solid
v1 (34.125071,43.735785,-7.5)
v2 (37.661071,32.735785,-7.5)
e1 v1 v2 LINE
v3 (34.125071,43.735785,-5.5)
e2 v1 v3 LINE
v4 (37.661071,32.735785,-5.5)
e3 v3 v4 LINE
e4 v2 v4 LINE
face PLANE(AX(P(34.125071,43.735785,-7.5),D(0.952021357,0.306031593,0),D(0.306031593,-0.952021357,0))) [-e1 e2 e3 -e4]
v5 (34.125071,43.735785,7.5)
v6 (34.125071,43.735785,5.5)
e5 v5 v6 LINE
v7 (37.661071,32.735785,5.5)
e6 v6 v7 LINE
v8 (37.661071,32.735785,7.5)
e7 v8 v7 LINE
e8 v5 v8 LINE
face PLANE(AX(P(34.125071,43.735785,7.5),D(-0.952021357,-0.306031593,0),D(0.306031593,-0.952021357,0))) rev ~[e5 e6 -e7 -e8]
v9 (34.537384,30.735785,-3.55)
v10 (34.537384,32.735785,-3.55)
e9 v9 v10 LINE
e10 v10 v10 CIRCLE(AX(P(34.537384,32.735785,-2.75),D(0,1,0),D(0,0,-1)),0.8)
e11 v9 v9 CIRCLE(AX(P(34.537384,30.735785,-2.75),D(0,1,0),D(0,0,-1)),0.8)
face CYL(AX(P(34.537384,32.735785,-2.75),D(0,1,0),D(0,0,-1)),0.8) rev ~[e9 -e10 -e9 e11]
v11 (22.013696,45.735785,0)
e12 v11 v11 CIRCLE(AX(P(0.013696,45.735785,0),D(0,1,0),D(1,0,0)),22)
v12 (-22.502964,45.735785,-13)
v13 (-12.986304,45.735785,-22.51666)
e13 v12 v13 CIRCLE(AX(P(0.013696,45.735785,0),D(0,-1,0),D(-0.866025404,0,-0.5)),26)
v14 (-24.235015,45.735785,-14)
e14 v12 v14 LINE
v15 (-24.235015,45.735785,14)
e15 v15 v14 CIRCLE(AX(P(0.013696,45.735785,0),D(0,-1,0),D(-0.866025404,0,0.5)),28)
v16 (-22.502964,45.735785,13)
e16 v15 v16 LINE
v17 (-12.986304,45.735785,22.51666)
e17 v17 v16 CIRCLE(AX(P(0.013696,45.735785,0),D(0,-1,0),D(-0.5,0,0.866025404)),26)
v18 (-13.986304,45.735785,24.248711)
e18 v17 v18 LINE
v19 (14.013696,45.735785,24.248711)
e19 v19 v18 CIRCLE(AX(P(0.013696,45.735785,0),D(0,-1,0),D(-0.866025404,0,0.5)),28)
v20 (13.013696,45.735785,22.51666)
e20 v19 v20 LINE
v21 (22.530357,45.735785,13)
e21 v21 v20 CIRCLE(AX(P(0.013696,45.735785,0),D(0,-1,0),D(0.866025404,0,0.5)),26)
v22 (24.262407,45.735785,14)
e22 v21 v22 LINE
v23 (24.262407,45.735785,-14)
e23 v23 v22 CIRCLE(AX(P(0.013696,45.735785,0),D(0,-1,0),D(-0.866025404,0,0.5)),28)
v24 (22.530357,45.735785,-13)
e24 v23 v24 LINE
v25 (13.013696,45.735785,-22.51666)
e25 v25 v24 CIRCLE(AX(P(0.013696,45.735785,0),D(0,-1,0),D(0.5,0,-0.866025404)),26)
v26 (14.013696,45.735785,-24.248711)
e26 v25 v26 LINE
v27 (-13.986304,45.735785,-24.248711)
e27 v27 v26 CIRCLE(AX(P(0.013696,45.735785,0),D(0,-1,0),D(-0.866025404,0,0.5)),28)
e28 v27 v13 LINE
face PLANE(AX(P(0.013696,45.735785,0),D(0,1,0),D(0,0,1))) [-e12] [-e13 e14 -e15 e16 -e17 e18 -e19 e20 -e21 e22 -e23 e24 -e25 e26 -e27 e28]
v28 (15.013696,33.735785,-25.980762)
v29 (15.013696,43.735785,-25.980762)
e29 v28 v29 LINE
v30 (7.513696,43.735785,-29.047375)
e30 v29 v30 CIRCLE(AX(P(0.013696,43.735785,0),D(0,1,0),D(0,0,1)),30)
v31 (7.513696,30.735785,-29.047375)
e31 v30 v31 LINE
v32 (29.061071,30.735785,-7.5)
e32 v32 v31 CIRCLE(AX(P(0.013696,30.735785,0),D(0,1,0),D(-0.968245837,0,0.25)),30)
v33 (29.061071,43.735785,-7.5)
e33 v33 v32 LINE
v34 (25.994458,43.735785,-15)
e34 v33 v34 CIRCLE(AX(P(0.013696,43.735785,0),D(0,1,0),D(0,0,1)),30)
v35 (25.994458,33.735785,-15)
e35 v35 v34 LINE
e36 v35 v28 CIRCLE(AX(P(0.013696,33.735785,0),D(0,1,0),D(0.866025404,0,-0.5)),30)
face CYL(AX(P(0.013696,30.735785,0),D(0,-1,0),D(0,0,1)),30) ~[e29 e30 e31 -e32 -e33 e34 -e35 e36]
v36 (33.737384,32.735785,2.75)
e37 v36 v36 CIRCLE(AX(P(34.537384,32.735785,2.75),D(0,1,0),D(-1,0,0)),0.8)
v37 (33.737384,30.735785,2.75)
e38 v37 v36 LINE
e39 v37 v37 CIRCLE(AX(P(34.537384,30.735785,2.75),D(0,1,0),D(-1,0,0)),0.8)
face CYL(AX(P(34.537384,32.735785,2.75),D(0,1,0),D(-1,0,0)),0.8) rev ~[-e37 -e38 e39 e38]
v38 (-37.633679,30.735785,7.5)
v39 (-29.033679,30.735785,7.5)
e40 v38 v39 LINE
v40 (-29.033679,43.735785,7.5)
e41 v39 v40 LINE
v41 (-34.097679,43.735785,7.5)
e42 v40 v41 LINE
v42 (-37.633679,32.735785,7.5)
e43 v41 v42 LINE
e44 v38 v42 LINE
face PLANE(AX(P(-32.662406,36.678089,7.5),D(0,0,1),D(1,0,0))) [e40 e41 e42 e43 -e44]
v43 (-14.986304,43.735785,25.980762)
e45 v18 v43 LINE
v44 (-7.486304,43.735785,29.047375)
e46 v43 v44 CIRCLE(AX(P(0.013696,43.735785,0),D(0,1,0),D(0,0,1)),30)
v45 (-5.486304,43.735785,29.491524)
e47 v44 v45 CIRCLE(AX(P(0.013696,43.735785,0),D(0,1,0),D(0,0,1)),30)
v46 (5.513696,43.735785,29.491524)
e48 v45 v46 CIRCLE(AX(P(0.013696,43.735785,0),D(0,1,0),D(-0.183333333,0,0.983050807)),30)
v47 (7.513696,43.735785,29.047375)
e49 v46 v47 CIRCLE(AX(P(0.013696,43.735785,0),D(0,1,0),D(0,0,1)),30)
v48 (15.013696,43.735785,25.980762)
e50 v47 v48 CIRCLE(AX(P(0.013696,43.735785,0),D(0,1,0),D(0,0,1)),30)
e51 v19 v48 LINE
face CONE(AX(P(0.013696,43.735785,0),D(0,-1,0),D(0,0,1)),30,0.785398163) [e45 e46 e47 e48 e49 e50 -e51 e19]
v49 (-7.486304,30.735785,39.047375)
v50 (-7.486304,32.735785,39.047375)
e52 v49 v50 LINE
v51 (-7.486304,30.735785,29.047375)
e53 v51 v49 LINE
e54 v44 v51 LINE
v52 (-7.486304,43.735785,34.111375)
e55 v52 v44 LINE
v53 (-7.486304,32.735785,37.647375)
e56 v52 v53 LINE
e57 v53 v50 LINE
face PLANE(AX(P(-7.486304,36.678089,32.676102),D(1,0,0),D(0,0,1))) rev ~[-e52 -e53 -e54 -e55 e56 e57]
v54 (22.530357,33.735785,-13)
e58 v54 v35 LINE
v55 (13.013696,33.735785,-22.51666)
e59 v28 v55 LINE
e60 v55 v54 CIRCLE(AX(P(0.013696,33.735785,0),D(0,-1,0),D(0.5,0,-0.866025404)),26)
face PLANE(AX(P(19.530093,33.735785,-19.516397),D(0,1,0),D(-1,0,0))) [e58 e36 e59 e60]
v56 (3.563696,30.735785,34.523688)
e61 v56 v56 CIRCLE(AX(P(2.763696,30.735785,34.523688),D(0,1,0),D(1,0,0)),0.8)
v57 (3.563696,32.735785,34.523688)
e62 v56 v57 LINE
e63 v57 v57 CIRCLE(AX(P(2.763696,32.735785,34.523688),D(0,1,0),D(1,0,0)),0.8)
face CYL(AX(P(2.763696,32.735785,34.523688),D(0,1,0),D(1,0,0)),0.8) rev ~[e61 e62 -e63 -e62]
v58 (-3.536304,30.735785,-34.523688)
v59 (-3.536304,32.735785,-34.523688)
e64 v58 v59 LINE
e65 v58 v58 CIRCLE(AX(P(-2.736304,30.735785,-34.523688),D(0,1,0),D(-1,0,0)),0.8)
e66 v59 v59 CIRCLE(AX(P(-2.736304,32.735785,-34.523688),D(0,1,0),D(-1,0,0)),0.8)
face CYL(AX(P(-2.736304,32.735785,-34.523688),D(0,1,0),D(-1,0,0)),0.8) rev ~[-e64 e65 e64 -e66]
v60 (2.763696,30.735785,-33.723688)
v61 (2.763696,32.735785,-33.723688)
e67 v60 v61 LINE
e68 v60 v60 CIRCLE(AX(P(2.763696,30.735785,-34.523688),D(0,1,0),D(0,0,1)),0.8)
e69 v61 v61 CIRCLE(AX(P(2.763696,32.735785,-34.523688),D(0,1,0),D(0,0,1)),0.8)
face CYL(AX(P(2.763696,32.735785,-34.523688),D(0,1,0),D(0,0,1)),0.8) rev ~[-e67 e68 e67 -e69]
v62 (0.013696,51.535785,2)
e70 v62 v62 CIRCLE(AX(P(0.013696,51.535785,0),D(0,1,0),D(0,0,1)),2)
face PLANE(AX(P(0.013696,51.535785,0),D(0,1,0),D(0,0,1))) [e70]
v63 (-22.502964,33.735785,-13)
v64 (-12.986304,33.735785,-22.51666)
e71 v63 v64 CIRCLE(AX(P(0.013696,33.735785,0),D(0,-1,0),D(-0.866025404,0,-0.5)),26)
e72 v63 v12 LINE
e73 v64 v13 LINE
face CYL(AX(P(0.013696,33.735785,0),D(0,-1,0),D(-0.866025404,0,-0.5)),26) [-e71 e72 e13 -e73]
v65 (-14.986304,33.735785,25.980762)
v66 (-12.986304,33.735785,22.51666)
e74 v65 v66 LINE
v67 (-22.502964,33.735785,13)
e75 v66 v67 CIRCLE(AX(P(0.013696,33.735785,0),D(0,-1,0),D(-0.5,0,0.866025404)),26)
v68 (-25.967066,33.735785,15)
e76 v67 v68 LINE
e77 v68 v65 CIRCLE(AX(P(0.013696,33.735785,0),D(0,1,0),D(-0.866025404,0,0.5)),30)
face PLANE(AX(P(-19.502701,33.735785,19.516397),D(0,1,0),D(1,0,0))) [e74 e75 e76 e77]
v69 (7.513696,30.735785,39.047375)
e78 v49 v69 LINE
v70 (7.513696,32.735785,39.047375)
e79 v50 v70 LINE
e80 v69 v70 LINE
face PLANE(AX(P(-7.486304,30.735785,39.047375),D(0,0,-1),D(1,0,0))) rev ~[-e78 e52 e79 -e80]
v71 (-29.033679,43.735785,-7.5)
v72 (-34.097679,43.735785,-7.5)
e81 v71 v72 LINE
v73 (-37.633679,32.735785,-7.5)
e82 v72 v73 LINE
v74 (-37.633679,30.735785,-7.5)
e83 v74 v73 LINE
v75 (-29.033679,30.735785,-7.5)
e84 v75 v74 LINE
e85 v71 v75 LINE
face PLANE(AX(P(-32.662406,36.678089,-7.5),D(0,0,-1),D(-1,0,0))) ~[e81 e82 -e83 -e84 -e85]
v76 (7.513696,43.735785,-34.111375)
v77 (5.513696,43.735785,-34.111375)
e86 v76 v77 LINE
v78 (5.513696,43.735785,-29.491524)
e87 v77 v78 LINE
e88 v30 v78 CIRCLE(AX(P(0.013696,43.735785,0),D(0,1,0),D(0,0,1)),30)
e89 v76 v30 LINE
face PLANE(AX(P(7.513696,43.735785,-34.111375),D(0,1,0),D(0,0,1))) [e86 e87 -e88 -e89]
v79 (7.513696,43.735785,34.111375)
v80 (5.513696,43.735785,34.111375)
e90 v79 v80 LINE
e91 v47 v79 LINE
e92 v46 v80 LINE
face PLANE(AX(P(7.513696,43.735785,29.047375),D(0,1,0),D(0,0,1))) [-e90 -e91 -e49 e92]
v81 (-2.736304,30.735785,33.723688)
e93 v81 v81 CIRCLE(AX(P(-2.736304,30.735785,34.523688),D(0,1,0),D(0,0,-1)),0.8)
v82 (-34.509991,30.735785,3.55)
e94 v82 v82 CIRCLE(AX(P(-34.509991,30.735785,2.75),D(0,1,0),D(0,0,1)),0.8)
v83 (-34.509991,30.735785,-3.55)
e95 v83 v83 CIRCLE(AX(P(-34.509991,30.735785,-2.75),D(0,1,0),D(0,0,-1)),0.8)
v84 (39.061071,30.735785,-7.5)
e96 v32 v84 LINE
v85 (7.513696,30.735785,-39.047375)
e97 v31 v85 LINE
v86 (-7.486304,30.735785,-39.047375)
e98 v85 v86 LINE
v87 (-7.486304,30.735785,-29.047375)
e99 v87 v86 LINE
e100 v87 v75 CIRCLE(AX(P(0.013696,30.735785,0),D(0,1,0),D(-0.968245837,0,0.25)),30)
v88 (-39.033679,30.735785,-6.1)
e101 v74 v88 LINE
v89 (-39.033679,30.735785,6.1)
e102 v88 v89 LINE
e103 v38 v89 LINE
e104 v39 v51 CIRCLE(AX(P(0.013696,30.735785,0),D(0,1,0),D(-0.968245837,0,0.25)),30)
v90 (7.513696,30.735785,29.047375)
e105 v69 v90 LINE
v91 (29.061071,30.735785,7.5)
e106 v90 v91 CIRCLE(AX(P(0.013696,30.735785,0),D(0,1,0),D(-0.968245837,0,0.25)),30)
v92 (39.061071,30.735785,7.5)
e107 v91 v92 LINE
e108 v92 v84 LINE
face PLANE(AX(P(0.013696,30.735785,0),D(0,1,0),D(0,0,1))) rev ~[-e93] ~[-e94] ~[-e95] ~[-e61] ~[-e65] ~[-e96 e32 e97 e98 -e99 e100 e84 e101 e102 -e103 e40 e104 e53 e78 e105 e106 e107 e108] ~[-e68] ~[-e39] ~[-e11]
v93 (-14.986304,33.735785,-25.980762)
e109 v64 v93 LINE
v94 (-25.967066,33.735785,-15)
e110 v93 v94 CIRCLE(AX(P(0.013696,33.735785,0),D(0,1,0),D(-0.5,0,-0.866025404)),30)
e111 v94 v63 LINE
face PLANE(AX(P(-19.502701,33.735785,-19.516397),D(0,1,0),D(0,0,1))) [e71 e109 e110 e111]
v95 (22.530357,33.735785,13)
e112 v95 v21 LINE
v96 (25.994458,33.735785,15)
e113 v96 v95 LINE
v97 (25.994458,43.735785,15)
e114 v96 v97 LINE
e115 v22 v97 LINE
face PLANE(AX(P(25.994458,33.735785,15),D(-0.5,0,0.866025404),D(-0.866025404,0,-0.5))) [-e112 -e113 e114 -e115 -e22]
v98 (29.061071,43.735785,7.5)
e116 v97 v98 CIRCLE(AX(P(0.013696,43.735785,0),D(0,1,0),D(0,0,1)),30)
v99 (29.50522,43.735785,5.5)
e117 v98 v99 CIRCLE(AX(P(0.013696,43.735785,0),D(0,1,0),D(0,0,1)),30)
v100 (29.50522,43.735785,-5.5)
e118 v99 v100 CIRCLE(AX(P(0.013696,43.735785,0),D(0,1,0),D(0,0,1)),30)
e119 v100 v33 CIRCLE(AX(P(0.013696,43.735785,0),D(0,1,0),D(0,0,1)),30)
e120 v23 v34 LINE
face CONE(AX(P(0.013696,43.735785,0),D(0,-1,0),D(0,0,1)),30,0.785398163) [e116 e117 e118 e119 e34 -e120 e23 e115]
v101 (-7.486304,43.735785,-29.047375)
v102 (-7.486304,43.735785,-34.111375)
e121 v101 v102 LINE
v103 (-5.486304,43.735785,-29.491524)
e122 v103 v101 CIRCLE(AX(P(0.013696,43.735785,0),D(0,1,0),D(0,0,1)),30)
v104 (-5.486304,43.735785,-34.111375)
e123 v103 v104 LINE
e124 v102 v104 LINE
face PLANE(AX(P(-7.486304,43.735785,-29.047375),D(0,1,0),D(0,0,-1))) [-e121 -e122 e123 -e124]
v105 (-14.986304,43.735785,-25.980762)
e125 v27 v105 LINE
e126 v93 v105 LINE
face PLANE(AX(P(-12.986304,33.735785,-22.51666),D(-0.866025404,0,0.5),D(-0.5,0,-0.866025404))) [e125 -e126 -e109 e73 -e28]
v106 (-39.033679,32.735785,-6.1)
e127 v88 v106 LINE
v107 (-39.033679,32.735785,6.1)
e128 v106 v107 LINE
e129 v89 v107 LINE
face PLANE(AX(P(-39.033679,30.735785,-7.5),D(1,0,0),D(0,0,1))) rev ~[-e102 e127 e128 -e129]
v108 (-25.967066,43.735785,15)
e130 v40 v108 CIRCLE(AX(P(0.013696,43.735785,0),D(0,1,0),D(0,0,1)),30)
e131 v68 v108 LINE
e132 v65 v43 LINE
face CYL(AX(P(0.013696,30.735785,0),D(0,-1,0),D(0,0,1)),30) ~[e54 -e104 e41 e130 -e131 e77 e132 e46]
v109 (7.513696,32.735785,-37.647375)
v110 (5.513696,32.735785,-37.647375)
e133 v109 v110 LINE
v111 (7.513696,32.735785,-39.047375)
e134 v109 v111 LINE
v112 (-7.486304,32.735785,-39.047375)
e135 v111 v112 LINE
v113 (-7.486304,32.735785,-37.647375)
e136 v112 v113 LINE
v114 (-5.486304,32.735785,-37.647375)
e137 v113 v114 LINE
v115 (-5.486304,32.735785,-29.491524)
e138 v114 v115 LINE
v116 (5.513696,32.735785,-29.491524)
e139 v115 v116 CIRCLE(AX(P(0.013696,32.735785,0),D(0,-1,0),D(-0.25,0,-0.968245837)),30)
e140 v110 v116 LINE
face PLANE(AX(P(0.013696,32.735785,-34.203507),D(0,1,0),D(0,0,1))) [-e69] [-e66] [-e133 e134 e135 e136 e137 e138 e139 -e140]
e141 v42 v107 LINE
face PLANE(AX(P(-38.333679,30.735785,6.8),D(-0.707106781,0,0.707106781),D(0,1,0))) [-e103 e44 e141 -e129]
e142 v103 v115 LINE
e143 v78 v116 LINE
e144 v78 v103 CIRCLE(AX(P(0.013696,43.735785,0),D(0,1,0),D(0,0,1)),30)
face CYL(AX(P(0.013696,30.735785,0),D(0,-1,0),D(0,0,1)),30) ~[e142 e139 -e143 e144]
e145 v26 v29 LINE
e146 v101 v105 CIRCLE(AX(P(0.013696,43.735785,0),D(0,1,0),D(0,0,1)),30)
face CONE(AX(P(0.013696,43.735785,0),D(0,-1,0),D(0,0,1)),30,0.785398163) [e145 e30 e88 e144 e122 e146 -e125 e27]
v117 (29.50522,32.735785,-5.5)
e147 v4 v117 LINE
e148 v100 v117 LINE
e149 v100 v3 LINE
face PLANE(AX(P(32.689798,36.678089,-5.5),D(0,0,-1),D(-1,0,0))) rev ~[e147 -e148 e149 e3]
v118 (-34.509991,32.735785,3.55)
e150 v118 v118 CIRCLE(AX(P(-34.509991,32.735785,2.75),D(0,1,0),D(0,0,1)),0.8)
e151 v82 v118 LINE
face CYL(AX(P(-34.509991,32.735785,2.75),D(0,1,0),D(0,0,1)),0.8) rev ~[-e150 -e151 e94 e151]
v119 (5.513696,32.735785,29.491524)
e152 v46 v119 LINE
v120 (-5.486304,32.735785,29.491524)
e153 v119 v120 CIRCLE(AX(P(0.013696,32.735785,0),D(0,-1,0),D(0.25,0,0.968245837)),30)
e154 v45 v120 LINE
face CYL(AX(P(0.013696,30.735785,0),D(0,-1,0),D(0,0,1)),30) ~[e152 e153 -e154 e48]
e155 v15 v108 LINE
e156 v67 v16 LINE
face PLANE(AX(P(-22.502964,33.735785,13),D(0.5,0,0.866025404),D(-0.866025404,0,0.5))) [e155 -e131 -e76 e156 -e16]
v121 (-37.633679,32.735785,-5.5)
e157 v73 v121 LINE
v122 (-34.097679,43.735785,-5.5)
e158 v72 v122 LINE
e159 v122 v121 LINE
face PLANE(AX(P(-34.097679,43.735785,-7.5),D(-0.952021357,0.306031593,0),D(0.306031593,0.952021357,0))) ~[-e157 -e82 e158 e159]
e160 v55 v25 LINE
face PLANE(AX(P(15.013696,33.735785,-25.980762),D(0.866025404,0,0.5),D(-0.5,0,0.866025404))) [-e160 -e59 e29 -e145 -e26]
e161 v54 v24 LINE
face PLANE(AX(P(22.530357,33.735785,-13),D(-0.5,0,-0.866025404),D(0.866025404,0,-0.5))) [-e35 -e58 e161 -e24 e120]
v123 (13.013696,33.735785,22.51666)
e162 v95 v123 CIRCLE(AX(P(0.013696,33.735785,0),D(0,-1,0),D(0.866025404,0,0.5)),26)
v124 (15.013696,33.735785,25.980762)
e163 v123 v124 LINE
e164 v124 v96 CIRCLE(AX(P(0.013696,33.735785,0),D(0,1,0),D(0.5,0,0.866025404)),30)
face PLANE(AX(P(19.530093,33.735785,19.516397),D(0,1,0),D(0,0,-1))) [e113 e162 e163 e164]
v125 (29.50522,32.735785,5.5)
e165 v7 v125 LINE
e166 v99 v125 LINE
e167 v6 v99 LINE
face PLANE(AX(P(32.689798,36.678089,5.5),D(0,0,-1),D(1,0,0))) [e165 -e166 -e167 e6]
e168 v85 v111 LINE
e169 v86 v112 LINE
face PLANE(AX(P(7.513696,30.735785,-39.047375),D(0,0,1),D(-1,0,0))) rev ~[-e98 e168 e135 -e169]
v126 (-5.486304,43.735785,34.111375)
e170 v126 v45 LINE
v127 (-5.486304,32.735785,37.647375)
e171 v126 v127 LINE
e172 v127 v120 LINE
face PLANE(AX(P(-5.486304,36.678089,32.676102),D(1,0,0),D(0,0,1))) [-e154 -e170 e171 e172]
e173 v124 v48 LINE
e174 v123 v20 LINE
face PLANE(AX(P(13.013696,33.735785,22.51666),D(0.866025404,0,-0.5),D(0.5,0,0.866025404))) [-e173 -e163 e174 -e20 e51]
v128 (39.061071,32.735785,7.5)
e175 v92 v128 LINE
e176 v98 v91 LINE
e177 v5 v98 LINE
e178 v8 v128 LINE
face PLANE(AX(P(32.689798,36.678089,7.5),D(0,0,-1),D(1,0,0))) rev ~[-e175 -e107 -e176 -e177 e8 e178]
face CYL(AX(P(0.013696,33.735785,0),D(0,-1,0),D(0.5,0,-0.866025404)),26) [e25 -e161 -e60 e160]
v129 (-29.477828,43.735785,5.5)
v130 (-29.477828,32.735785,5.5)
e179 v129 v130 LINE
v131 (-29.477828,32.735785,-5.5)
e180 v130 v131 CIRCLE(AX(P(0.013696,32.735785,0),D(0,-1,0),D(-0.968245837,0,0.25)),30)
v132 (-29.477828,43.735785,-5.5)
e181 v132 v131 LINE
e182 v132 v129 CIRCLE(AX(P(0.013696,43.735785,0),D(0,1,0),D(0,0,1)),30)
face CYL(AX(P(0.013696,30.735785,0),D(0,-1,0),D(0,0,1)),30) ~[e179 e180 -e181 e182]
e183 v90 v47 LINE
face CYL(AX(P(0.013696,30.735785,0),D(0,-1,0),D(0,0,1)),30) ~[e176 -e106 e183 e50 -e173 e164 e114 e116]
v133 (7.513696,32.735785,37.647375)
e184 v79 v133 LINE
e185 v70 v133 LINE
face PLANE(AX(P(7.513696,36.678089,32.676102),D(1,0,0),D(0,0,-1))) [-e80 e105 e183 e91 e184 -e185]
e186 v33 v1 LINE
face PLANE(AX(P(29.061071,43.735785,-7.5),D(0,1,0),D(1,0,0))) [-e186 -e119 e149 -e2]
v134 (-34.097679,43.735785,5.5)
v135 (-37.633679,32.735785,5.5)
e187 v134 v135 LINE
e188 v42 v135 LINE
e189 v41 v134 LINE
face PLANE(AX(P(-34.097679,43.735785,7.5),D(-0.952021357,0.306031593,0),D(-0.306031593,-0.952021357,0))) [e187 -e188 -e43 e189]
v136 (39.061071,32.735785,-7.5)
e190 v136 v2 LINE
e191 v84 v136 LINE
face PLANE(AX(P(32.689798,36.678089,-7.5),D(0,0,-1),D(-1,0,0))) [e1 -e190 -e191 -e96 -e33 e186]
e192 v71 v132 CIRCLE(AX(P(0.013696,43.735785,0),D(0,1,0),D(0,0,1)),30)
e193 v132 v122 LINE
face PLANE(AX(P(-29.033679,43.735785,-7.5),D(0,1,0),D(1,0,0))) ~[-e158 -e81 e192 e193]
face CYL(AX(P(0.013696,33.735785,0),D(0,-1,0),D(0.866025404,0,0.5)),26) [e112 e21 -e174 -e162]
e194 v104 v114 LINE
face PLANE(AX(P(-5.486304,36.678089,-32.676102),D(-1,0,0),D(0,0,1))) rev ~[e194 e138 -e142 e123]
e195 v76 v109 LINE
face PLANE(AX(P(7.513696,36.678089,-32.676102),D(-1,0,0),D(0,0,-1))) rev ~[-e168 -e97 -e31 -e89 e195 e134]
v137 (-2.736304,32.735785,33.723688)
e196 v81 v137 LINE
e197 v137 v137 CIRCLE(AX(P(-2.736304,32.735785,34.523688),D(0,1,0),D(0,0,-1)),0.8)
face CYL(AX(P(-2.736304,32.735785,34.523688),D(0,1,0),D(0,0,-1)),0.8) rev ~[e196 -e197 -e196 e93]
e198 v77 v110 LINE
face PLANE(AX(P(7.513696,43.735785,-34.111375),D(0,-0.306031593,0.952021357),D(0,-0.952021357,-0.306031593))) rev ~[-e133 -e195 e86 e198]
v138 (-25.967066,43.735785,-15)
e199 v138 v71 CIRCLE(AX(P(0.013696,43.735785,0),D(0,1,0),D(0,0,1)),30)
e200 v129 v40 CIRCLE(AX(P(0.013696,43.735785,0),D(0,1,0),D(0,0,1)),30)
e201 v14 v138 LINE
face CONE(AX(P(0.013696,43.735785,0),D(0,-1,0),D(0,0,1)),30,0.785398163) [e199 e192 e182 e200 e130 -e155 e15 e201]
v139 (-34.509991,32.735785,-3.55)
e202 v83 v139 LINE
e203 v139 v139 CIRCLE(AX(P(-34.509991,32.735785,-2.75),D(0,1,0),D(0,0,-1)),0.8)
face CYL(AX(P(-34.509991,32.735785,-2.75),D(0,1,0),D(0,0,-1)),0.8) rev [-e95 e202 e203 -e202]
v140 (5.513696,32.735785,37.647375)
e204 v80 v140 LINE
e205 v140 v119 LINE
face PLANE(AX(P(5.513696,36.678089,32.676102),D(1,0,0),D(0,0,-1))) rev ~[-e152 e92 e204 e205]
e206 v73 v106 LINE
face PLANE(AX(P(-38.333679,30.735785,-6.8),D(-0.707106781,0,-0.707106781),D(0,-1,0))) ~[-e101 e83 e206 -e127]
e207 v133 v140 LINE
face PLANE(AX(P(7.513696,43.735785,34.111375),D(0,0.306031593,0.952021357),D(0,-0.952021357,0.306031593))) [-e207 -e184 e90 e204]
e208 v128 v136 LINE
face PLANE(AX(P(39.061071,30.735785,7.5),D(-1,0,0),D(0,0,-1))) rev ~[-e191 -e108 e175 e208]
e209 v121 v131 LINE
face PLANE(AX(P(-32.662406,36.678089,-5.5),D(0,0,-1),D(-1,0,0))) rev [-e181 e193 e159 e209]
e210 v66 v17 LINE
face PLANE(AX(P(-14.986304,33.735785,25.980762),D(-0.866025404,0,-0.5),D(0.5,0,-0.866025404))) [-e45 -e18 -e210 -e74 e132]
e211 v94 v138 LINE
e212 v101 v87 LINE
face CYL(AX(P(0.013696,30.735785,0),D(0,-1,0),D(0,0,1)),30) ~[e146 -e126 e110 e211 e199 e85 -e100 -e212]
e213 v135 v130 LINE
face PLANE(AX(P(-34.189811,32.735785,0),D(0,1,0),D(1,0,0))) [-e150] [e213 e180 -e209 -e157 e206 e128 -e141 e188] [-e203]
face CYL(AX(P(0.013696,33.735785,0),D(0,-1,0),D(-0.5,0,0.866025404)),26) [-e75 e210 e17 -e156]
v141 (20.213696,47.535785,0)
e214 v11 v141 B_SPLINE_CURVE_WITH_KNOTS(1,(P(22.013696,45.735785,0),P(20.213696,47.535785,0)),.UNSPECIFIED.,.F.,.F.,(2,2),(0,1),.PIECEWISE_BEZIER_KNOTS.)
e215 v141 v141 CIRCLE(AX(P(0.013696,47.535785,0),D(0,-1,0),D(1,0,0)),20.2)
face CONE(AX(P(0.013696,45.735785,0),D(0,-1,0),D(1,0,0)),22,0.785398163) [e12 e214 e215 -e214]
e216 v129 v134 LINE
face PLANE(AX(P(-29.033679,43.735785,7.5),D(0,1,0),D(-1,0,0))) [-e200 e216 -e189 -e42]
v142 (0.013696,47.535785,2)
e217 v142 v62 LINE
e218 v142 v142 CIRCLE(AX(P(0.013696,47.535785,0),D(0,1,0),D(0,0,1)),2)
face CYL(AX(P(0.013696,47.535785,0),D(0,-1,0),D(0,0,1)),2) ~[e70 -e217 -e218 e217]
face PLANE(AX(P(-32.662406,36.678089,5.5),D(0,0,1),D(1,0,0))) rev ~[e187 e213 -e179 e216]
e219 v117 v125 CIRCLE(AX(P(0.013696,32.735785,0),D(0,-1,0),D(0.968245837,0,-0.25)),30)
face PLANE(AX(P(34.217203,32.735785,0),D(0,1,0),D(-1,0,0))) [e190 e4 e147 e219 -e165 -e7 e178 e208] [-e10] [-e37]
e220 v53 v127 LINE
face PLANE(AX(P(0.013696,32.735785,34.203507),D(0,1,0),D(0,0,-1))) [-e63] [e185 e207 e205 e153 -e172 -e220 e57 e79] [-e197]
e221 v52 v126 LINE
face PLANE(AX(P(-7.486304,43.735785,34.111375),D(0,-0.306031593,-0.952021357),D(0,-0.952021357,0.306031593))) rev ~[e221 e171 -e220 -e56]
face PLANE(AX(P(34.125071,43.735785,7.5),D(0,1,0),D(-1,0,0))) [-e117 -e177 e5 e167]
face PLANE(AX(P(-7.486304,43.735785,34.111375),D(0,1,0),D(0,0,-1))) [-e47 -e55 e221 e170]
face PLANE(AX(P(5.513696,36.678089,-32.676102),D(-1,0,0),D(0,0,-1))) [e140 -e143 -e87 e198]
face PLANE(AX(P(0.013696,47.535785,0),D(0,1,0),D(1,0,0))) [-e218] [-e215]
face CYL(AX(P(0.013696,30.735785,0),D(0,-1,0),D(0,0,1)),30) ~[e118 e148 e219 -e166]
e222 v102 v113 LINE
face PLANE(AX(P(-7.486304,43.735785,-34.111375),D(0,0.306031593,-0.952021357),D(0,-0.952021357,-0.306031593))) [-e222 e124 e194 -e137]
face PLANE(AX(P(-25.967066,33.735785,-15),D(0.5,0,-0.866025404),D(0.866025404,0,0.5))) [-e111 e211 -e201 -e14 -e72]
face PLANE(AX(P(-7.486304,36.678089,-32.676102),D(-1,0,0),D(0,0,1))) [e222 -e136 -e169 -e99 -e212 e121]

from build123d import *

# Parameters (mm, degrees)
SKETCH1_R                   = 150
BOSS_EXTRUDE1_DEPTH         = 75
CHAMFER1_SIZE               = 10
BOSS_EXTRUDE2_START         = -75
BOSS_EXTRUDE2_DEPTH         = 10
CHAMFER2_SIZE               = 7
BOSS_EXTRUDE3_DEPTH         = 10
SKETCH4_R                   = 4
CUT_EXTRUDE1_DEPTH          = 255.641782801
CIRPATTERN1_COUNT           = 4
CIRPATTERN1_COPY_1_DEPTH    = 10
CIRPATTERN1_COPY_2_DEPTH    = 10
CIRPATTERN1_COPY_3_DEPTH    = 10
CIRPATTERN1_COPY_4_SKETCH_R = 4
CIRPATTERN1_COPY_4_DEPTH    = 255.641782801
CIRPATTERN1_COPY_5_SKETCH_R = 4
CIRPATTERN1_COPY_5_DEPTH    = 255.641782801
CIRPATTERN1_COPY_6_SKETCH_R = 4
CIRPATTERN1_COPY_6_DEPTH    = 255.641782801
CUT_EXTRUDE2_START          = -60
CUT_EXTRUDE2_DEPTH          = 347.111647957
CIRPATTERN2_COUNT           = 4
SKETCH6_R                   = 110
BOSS_EXTRUDE4_DEPTH         = 9
BOSS_EXTRUDE4_TAPER         = 45
SKETCH7_R                   = 10
BOSS_EXTRUDE5_DEPTH         = 20
L_EK1_SCALE                 = 0.2


with BuildPart() as part:
    # Sketch1 → Boss-Extrude1 (new body)
    with BuildSketch(Plane(origin=(0, 0, 0), x_dir=(1, 0, 0), z_dir=(0, 1, 0))):
        with Locations(Location((0, 0, 0), (0, 0, 270))):
            Circle(SKETCH1_R)
    extrude(amount=BOSS_EXTRUDE1_DEPTH)

    # Chamfer1
    chamfer1_edges = [part.edges().sort_by_distance(p)[0] for p in [
        (0, 75, -150),
    ]]
    chamfer(chamfer1_edges, length=CHAMFER1_SIZE)

    # Sketch2 → Boss-Extrude2 (add)
    with BuildSketch(Plane(origin=(0, 75, 0), x_dir=(1, 0, 0), z_dir=(0, 1, 0)).offset(BOSS_EXTRUDE2_START)):
        with BuildLine():
            Line((-195.236875483, 37.5), (-195.236875483, -37.5))
            Line((-195.236875483, -37.5), (-145.236875483, -37.5))
            ThreePointArc((-145.236875483, -37.5), (-150, 0), (-145.236875483, 37.5))
            Line((-145.236875483, 37.5), (-195.236875483, 37.5))
        make_face()
    boss_extrude2 = extrude(amount=BOSS_EXTRUDE2_DEPTH)

    # Chamfer2
    chamfer2_edges = [part.edges().sort_by_distance(p)[0] for p in [
        (-195.236875483, 5, 37.5),
        (-195.236875483, 5, -37.5),
    ]]
    chamfer(chamfer2_edges, length=CHAMFER2_SIZE)

    # Sketch3 → Boss-Extrude3 (add)
    with BuildSketch(Plane.XY.offset(37.5)):
        Polygon((-150, 65), (-170.556875483, 65), (-188.236875483, 10), (-188.236875483, 0), (-145.236875483, 0), (-145.236875483, 65), align=None)
    boss_extrude3 = extrude(amount=-BOSS_EXTRUDE3_DEPTH)

    # Sketch4 → Cut-Extrude1 (cut, symmetric)
    with BuildSketch(Plane(origin=(0, 10, 0), x_dir=(1, 0, 0), z_dir=(0, 1, 0))):
        with Locations(Location((-172.618437741, -13.75, 0), (0, 0, 270))):
            Circle(SKETCH4_R)
    cut_extrude1 = extrude(amount=CUT_EXTRUDE1_DEPTH, both=True, mode=Mode.SUBTRACT)

    # Mirror1: Boss-Extrude3, Cut-Extrude1 across plane
    add(boss_extrude3.mirror(Plane.XY))
    add(cut_extrude1.mirror(Plane.XY), mode=Mode.SUBTRACT)

    # CirPattern1: Boss-Extrude2, Boss-Extrude3, Cut-Extrude1 ×4 about axis
    cirpattern1_axis = Axis((0, 0, 0), (0, 1, 0))
    add([boss_extrude2.rotate(cirpattern1_axis, i * 360 / CIRPATTERN1_COUNT) for i in range(1, CIRPATTERN1_COUNT)])
    add([boss_extrude3.rotate(cirpattern1_axis, i * 360 / CIRPATTERN1_COUNT) for i in range(1, CIRPATTERN1_COUNT)])
    add([cut_extrude1.rotate(cirpattern1_axis, i * 360 / CIRPATTERN1_COUNT) for i in range(1, CIRPATTERN1_COUNT)], mode=Mode.SUBTRACT)

    # CirPattern1 copy 1 sketch → CirPattern1 copy 1 (add)
    with BuildSketch(Plane(origin=(-37.5, 0, 0), x_dir=(0, 0, -1), z_dir=(-1, 0, 0))):
        Polygon((-150, -65), (-170.556875483, -65), (-188.236875483, -10), (-188.236875483, 0), (-145.236875483, 0), (-145.236875483, -65), align=None)
    extrude(amount=-CIRPATTERN1_COPY_1_DEPTH)

    # CirPattern1 copy 2 sketch → CirPattern1 copy 2 (add)
    with BuildSketch(Plane(origin=(0, 0, 37.5), x_dir=(-1, 0, 0), z_dir=(0, 0, 1))):
        Polygon((-150, -65), (-170.556875483, -65), (-188.236875483, -10), (-188.236875483, 0), (-145.236875483, 0), (-145.236875483, -65), align=None)
    extrude(amount=-CIRPATTERN1_COPY_2_DEPTH)

    # CirPattern1 copy 3 sketch → CirPattern1 copy 3 (add)
    with BuildSketch(Plane(origin=(37.5, 0, 0), x_dir=(0, 0, 1), z_dir=(1, 0, 0))):
        Polygon((-150, -65), (-170.556875483, -65), (-188.236875483, -10), (-188.236875483, 0), (-145.236875483, 0), (-145.236875483, -65), align=None)
    extrude(amount=-CIRPATTERN1_COPY_3_DEPTH)

    # CirPattern1 copy 4 sketch → CirPattern1 copy 4 (cut, symmetric)
    with BuildSketch(Plane(origin=(0, 10, 0), x_dir=(0, 0, -1), z_dir=(0, 1, 0))):
        with Locations((-172.618437741, 13.75)):
            Circle(CIRPATTERN1_COPY_4_SKETCH_R)
    extrude(amount=CIRPATTERN1_COPY_4_DEPTH, both=True, mode=Mode.SUBTRACT)

    # CirPattern1 copy 5 sketch → CirPattern1 copy 5 (cut, symmetric)
    with BuildSketch(Plane(origin=(0, 10, 0), x_dir=(-1, 0, 0), z_dir=(0, 1, 0))):
        with Locations((-172.618437741, 13.75)):
            Circle(CIRPATTERN1_COPY_5_SKETCH_R)
    extrude(amount=CIRPATTERN1_COPY_5_DEPTH, both=True, mode=Mode.SUBTRACT)

    # CirPattern1 copy 6 sketch → CirPattern1 copy 6 (cut, symmetric)
    with BuildSketch(Plane.ZX.offset(10)):
        with Locations((-172.618437741, 13.75)):
            Circle(CIRPATTERN1_COPY_6_SKETCH_R)
    extrude(amount=CIRPATTERN1_COPY_6_DEPTH, both=True, mode=Mode.SUBTRACT)

    # Sketch5 → Cut-Extrude2 (cut)
    with BuildSketch(Plane(origin=(0, 75, 0), x_dir=(1, 0, 0), z_dir=(0, 1, 0)).offset(CUT_EXTRUDE2_START)):
        with BuildLine():
            Line((-112.583302492, -65), (-129.903810568, -75))
            ThreePointArc((-129.903810568, -75), (-106.066017178, -106.066017178), (-75, -129.903810568))
            Line((-75, -129.903810568), (-65, -112.583302492))
            ThreePointArc((-65, -112.583302492), (-91.923881554, -91.923881554), (-112.583302492, -65))
        make_face()
    cut_extrude2 = extrude(amount=CUT_EXTRUDE2_DEPTH, mode=Mode.SUBTRACT)

    # CirPattern2: Cut-Extrude2 ×4 about axis
    cirpattern2_axis = Axis((0, 75, 0), (0, -1, 0))
    for i in range(1, CIRPATTERN2_COUNT):
        add(cut_extrude2.rotate(cirpattern2_axis, i * 360 / CIRPATTERN2_COUNT), mode=Mode.SUBTRACT)

    # Sketch6 → Boss-Extrude4 (add)
    with BuildSketch(Plane(origin=(0, 75, 0), x_dir=(1, 0, 0), z_dir=(0, 1, 0))):
        Circle(SKETCH6_R)
    extrude(amount=BOSS_EXTRUDE4_DEPTH, taper=BOSS_EXTRUDE4_TAPER)

    # Sketch7 → Boss-Extrude5 (add)
    with BuildSketch(Plane(origin=(0, 84, 0), x_dir=(1, 0, 0), z_dir=(0, 1, 0))):
        with Locations(Location((0, 0, 0), (0, 0, 270))):
            Circle(SKETCH7_R)
    extrude(amount=BOSS_EXTRUDE5_DEPTH)


with BuildPart() as part_1:
    # Ölçek1: scaled about (0.0171202, 38.41973145, 0)
    add(part.part.scale(L_EK1_SCALE).moved(Location((0.01369616, 30.73578516, 0))))


solid = part_1.part
